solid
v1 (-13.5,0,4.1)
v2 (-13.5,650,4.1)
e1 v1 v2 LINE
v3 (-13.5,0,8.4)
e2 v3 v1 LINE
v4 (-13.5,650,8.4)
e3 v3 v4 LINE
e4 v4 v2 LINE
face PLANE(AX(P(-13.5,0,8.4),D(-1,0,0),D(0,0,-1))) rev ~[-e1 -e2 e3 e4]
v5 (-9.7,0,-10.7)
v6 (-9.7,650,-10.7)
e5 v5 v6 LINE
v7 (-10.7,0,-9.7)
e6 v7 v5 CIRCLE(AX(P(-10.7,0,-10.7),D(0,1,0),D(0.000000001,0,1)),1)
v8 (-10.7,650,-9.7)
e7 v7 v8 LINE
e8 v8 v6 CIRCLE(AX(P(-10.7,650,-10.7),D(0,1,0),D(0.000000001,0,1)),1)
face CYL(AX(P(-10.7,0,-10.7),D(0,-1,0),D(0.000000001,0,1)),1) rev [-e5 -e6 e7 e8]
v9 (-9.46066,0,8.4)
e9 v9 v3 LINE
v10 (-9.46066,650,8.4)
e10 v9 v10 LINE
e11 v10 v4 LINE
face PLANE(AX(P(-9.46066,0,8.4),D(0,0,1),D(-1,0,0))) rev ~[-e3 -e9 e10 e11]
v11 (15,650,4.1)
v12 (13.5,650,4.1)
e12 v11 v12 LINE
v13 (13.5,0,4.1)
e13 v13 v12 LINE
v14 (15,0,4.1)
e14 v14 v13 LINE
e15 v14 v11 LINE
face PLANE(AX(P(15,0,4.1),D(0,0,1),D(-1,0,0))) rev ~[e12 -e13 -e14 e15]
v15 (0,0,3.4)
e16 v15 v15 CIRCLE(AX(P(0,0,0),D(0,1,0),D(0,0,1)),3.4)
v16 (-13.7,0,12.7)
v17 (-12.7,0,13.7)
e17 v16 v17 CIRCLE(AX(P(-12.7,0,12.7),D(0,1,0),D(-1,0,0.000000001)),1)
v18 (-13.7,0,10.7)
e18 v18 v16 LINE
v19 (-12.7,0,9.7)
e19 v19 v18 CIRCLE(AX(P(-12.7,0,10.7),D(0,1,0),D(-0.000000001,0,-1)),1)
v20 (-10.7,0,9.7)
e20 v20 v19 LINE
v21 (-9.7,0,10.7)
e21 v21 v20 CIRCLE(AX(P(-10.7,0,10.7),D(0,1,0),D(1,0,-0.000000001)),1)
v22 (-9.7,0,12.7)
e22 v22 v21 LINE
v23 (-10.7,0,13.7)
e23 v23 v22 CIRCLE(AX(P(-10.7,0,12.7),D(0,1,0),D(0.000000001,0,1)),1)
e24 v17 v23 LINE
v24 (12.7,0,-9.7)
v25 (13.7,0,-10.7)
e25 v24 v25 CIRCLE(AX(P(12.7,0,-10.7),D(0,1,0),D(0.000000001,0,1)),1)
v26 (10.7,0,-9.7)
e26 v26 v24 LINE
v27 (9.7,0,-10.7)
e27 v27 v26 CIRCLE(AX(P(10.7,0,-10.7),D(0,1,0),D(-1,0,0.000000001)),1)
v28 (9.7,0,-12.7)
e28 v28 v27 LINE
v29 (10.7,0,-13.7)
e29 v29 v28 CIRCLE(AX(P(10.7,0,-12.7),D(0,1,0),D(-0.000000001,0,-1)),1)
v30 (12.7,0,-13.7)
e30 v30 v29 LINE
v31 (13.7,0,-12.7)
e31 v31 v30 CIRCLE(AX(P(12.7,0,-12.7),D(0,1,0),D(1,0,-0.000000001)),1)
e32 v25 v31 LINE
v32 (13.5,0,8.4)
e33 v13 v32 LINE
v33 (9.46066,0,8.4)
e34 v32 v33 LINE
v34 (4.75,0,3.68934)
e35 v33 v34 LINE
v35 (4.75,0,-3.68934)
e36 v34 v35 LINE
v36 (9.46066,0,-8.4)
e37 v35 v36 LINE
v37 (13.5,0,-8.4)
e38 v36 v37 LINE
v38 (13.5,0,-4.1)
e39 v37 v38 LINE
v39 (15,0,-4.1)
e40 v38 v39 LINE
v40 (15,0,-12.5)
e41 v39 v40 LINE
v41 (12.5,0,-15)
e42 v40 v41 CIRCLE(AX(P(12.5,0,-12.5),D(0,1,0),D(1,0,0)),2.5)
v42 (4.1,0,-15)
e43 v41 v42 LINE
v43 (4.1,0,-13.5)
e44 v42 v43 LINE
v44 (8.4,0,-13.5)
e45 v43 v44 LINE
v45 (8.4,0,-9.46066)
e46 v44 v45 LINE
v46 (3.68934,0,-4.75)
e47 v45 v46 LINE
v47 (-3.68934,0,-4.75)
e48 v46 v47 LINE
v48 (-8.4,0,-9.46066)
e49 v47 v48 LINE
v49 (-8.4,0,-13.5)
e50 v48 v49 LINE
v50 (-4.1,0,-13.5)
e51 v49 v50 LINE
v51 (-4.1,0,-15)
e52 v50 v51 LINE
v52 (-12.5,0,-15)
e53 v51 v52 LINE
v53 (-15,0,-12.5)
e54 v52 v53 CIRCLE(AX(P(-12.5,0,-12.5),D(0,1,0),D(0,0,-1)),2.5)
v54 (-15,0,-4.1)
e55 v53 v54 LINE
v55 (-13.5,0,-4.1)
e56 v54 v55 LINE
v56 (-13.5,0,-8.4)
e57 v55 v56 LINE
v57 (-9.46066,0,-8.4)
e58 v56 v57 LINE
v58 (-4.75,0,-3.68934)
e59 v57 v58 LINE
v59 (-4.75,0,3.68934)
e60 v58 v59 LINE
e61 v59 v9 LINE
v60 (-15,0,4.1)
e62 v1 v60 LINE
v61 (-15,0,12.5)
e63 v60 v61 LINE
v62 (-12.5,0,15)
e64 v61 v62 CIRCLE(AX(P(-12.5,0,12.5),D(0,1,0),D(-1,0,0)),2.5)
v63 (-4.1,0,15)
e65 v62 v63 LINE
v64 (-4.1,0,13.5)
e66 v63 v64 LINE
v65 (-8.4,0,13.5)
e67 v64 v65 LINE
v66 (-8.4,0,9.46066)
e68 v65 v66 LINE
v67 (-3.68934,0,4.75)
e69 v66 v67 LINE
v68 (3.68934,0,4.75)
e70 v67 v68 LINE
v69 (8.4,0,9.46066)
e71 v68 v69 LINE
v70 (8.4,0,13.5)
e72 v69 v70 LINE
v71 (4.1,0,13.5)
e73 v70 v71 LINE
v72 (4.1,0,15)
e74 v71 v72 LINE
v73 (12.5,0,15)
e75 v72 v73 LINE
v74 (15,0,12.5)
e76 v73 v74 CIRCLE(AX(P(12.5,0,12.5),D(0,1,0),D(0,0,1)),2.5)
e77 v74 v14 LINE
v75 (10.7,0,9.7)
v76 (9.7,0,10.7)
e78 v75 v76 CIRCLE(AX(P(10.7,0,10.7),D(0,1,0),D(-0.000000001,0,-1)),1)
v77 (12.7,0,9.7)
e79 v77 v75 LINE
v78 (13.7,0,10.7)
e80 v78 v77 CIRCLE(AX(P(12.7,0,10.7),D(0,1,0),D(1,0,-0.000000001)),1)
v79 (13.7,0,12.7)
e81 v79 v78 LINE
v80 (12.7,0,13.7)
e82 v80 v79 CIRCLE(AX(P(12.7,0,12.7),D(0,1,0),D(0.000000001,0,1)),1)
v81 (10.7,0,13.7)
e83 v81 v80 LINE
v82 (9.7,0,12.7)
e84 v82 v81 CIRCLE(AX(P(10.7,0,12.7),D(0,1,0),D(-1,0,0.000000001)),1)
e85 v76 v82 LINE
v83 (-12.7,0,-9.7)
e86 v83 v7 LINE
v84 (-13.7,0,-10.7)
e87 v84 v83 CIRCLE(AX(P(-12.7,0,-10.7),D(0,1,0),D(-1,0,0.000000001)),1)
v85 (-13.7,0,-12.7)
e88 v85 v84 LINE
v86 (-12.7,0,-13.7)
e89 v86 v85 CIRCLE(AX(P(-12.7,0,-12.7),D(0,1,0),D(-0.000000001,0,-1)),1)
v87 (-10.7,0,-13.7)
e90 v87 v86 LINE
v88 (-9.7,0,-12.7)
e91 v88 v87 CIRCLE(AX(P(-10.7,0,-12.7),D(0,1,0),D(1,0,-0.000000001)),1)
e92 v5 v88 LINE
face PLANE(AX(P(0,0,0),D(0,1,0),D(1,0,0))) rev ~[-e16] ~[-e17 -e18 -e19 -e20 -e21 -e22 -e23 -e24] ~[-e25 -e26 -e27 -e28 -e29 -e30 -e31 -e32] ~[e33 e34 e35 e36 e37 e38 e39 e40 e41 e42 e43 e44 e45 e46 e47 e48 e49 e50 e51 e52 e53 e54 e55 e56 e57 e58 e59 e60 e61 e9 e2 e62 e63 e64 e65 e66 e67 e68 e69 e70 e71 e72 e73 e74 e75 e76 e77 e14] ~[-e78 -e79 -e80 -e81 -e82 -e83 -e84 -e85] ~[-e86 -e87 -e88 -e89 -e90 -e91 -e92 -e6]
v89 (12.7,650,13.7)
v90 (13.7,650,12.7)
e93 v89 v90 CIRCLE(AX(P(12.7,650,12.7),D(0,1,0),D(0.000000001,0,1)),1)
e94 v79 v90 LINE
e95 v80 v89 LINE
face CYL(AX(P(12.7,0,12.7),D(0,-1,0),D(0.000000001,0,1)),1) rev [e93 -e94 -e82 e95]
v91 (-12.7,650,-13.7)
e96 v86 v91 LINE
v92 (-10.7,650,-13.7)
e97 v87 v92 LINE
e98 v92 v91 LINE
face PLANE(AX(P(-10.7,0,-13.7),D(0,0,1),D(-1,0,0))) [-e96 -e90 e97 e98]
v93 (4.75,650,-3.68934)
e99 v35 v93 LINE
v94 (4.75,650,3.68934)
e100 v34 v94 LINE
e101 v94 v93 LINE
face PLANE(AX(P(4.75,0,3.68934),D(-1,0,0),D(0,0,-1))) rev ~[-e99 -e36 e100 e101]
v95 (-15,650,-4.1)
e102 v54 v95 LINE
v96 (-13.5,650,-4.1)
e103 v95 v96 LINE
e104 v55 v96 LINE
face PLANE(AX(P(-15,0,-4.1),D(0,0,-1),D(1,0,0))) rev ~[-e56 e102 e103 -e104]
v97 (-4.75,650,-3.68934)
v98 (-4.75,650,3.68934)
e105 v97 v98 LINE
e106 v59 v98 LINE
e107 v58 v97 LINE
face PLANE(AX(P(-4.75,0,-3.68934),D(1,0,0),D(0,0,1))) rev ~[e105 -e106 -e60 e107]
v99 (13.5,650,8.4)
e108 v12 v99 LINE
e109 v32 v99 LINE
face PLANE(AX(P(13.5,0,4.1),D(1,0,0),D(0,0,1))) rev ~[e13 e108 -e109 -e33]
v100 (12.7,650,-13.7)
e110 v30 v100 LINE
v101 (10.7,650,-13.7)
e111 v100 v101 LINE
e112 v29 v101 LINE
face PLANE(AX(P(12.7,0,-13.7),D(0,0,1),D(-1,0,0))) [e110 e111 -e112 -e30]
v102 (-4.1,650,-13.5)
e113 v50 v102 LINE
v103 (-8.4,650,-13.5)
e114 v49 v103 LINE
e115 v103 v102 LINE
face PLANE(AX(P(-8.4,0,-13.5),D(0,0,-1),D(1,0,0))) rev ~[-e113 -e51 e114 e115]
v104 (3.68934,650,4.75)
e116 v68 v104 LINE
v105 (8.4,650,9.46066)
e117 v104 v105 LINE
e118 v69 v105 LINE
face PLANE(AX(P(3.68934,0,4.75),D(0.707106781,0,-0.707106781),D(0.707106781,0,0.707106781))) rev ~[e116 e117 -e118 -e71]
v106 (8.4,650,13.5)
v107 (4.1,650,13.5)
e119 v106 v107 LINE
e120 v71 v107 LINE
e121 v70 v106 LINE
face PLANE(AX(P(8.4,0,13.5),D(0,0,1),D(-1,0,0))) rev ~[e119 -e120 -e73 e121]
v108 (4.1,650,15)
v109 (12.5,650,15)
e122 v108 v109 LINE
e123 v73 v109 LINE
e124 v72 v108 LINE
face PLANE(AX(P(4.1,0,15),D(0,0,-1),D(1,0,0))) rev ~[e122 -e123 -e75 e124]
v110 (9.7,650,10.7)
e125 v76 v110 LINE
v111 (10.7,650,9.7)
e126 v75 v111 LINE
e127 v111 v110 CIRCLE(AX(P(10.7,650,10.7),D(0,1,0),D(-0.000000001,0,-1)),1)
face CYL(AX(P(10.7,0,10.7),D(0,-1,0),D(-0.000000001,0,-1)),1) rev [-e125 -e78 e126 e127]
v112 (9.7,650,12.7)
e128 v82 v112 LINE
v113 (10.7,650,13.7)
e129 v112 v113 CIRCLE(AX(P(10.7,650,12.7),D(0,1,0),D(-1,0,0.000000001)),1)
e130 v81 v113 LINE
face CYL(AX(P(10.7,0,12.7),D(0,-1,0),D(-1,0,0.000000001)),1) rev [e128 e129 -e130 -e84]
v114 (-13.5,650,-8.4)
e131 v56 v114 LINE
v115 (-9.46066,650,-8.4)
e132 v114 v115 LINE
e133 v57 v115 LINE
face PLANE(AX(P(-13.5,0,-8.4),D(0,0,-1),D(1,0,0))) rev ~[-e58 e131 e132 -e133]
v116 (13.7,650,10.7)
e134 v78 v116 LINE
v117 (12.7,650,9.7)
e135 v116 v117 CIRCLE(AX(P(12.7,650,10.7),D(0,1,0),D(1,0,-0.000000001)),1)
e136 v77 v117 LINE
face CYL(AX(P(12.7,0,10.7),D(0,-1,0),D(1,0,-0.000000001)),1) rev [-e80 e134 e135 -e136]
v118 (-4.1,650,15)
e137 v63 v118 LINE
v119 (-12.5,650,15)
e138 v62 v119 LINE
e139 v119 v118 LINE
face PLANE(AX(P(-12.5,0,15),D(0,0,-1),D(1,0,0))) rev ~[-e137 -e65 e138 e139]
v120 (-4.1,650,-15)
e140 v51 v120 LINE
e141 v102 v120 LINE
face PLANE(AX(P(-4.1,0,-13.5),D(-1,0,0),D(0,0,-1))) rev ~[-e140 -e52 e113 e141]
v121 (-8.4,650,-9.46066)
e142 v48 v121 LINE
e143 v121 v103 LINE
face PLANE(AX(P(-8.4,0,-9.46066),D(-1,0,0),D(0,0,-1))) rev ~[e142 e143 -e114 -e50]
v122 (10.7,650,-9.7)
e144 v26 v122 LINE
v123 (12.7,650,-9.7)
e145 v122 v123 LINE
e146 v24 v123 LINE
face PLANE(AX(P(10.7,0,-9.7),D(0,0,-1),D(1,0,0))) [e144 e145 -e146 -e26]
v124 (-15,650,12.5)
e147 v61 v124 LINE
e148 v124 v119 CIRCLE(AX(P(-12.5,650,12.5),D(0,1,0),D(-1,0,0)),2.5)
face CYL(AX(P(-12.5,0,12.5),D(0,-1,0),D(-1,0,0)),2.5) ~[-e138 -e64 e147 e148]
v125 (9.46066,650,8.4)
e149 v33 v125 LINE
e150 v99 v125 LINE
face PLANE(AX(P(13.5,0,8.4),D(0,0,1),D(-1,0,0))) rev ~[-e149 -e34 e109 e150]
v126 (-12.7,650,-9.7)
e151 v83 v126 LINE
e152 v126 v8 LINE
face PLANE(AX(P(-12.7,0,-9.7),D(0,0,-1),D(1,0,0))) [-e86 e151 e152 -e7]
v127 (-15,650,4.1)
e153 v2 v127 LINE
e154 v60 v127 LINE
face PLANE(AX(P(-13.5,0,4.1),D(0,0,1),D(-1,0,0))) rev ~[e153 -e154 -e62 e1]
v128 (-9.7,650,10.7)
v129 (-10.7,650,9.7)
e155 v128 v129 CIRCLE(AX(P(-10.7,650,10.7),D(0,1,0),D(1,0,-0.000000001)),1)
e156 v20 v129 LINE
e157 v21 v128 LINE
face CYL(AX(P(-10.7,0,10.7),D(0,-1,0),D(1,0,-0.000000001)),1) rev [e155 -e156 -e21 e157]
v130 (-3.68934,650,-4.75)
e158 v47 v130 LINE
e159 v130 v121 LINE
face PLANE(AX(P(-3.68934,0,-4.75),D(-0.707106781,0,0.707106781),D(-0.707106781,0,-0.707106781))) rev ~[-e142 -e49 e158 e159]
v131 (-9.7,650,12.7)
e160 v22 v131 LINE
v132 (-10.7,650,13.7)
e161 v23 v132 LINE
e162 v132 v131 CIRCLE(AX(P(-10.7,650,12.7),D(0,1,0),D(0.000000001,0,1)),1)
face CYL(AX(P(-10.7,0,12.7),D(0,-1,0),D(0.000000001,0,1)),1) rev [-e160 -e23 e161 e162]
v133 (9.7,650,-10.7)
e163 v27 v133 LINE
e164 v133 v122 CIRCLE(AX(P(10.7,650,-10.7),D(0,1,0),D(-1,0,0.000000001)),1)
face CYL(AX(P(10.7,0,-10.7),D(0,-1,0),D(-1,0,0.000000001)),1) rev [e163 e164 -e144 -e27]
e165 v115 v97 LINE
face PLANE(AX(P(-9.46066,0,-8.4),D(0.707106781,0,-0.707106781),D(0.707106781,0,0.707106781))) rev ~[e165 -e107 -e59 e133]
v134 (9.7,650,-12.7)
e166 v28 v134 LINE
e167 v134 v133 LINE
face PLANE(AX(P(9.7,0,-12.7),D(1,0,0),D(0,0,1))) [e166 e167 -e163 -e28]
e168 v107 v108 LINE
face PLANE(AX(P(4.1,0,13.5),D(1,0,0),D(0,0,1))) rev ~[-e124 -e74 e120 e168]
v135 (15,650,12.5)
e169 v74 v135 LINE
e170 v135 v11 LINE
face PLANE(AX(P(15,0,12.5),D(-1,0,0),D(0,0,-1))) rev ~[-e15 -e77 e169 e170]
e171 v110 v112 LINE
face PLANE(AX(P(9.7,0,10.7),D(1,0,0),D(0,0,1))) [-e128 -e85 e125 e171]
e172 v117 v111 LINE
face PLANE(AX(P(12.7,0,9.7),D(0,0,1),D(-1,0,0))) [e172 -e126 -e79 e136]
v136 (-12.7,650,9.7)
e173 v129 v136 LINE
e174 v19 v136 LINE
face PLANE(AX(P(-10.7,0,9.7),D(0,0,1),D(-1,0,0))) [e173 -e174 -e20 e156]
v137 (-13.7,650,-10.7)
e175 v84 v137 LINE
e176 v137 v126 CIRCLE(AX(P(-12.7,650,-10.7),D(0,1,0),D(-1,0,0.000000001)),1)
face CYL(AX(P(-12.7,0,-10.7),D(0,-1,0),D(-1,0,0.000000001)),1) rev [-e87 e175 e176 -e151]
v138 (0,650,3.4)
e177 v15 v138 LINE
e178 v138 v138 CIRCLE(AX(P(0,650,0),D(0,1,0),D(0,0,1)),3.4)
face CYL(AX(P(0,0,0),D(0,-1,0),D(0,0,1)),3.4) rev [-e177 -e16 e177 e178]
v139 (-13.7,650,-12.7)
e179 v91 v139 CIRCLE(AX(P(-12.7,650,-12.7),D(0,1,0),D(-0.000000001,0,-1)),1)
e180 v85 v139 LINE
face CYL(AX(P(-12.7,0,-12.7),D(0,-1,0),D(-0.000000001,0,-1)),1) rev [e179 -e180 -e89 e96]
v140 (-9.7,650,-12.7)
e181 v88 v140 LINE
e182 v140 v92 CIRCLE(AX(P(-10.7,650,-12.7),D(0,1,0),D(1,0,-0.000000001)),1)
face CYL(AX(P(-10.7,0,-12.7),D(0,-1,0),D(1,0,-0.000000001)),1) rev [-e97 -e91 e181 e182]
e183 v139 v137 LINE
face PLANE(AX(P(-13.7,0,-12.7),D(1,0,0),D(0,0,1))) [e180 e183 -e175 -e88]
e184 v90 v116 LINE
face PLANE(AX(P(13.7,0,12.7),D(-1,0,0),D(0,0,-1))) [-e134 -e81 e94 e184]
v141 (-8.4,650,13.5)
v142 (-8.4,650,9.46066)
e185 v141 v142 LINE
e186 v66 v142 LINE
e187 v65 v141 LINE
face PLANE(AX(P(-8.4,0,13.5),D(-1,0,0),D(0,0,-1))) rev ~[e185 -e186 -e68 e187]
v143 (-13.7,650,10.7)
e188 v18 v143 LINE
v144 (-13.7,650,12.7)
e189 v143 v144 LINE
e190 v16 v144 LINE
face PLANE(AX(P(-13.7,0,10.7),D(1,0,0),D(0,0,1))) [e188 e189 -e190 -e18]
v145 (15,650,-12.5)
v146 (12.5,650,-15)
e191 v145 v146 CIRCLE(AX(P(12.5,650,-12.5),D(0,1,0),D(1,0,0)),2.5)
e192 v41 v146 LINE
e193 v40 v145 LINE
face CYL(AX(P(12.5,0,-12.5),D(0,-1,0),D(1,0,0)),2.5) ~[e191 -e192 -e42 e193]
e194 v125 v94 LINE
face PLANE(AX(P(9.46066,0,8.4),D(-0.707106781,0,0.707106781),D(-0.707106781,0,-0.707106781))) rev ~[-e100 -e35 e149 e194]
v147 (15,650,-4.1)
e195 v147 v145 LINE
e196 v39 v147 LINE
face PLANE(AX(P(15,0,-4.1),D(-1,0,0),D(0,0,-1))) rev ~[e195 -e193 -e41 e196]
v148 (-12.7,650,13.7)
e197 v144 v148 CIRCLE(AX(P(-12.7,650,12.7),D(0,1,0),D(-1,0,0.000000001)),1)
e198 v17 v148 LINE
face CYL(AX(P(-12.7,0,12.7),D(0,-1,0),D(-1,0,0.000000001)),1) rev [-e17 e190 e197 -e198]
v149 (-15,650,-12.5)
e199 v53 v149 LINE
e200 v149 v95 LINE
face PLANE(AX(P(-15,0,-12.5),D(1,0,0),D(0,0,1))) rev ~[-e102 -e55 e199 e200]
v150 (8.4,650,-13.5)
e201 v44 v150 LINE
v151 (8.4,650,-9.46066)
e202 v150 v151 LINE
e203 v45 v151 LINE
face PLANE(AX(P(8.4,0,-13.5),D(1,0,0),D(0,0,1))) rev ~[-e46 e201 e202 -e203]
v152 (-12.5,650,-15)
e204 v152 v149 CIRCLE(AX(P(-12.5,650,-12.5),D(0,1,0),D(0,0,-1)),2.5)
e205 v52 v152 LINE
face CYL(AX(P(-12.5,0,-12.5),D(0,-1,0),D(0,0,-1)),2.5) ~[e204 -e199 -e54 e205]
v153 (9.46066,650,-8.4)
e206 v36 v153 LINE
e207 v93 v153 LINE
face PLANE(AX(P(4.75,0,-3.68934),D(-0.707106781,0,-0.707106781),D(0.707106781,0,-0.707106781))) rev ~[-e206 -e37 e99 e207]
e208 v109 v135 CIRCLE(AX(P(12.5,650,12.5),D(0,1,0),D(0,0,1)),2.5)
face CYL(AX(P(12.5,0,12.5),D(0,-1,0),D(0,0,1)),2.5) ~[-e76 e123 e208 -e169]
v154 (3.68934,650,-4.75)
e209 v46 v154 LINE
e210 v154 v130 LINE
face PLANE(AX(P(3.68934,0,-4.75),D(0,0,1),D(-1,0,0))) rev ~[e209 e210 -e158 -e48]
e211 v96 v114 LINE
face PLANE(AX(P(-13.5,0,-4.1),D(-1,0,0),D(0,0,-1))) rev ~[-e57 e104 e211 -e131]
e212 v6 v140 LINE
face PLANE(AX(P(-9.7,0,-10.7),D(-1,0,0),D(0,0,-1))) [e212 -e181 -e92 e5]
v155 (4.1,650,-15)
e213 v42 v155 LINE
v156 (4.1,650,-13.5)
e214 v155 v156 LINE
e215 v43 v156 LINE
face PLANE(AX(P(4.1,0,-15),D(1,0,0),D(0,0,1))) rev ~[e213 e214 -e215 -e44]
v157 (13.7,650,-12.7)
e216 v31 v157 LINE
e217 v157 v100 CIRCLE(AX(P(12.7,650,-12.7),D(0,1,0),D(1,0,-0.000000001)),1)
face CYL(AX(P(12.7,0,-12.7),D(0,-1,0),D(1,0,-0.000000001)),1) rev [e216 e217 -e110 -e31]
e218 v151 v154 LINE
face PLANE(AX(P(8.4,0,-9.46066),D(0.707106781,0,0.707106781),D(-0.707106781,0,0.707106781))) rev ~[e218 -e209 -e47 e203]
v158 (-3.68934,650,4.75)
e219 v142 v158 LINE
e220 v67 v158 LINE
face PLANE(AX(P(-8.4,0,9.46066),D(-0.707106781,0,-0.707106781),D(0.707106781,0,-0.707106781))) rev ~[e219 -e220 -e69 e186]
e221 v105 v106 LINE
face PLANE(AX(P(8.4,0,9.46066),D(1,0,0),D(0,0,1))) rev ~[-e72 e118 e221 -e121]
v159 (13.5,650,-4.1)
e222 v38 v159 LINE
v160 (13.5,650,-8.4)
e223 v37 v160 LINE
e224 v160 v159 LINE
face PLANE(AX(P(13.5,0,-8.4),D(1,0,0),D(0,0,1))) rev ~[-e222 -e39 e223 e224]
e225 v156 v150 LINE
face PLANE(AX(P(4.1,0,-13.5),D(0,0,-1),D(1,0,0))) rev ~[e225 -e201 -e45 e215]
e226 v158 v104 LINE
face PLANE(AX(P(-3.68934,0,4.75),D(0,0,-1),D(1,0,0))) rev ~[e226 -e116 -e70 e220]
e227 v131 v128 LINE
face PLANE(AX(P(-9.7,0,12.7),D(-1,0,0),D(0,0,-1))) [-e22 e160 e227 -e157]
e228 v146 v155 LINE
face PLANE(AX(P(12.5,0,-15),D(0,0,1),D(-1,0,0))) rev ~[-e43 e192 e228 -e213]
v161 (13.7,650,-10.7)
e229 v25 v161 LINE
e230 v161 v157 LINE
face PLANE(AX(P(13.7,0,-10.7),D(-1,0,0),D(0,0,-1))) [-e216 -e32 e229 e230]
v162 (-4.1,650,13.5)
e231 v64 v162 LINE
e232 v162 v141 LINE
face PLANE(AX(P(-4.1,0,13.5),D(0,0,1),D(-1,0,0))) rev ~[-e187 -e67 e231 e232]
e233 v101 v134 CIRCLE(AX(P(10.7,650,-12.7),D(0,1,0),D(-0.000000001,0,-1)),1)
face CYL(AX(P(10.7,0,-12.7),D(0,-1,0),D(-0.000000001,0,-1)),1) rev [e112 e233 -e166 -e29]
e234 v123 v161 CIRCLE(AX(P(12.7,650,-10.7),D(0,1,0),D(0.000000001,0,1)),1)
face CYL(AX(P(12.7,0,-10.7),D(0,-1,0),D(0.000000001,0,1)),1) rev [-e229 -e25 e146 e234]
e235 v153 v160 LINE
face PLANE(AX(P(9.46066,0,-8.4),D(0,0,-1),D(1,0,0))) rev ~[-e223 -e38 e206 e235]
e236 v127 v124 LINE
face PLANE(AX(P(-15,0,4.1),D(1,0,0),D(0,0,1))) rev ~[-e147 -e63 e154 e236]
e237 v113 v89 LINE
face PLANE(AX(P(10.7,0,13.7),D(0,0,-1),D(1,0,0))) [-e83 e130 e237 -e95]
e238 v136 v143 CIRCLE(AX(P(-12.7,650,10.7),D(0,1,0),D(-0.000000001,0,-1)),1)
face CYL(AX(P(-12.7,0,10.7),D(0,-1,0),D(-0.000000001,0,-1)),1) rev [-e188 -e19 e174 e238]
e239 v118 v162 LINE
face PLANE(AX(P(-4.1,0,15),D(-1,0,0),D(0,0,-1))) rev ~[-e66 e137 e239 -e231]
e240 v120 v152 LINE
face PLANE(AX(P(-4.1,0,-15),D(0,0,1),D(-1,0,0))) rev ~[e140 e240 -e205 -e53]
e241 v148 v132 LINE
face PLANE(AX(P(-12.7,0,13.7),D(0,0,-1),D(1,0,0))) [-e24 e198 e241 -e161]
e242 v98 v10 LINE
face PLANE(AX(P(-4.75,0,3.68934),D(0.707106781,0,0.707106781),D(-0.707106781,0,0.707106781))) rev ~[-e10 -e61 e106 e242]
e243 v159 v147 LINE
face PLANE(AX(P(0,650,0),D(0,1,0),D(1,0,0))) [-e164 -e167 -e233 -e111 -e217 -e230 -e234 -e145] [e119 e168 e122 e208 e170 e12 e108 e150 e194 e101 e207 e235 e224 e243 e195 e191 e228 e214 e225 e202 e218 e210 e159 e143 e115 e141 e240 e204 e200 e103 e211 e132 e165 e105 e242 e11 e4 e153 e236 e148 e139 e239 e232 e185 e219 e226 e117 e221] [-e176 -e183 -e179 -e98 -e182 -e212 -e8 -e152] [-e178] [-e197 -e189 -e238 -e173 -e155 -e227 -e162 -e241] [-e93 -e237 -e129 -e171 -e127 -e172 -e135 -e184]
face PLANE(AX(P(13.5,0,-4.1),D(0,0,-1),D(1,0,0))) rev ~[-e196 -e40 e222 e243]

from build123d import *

# Parameters (mm, degrees)
SKETCH_1_R      = 3.4
EXTRUDE_1_DEPTH = 650


with BuildPart() as part:
    # 草图1 → 凸台-拉伸1 (new body)
    with BuildSketch(Plane(origin=(0, 0, 0), x_dir=(1, 0, 0), z_dir=(0, 1, 0))):
        with BuildLine():
            Line((-4.1, 15), (-12.5, 15))
            ThreePointArc((-12.5, 15), (-14.267766953, 14.267766953), (-15, 12.5))
            Line((-15, 12.5), (-15, 4.1))
            Line((-15, 4.1), (-13.5, 4.1))
            Line((-13.5, 4.1), (-13.5, 8.4))
            Line((-13.5, 8.4), (-9.460660172, 8.4))
            Line((-9.460660172, 8.4), (-4.75, 3.689339828))
            Line((-4.75, 3.689339828), (-4.75, -3.689339828))
            Line((-4.75, -3.689339828), (-9.460660172, -8.4))
            Line((-9.460660172, -8.4), (-13.5, -8.4))
            Line((-13.5, -8.4), (-13.5, -4.1))
            Line((-13.5, -4.1), (-15, -4.1))
            Line((-15, -4.1), (-15, -12.5))
            ThreePointArc((-15, -12.5), (-14.267766953, -14.267766953), (-12.5, -15))
            Line((-12.5, -15), (-4.1, -15))
            Line((-4.1, -15), (-4.1, -13.5))
            Line((-4.1, -13.5), (-8.4, -13.5))
            Line((-8.4, -13.5), (-8.4, -9.460660172))
            Line((-8.4, -9.460660172), (-3.689339828, -4.75))
            Line((-3.689339828, -4.75), (3.689339828, -4.75))
            Line((3.689339828, -4.75), (8.4, -9.460660172))
            Line((8.4, -9.460660172), (8.4, -13.5))
            Line((8.4, -13.5), (4.1, -13.5))
            Line((4.1, -13.5), (4.1, -15))
            Line((4.1, -15), (12.5, -15))
            ThreePointArc((12.5, -15), (14.267766953, -14.267766953), (15, -12.5))
            Line((15, -12.5), (15, -4.1))
            Line((15, -4.1), (13.5, -4.1))
            Line((13.5, -4.1), (13.5, -8.4))
            Line((13.5, -8.4), (9.460660172, -8.4))
            Line((9.460660172, -8.4), (4.75, -3.689339828))
            Line((4.75, -3.689339828), (4.75, 3.689339828))
            Line((4.75, 3.689339828), (9.460660172, 8.4))
            Line((9.460660172, 8.4), (13.5, 8.4))
            Line((13.5, 8.4), (13.5, 4.1))
            Line((13.5, 4.1), (15, 4.1))
            Line((15, 4.1), (15, 12.5))
            ThreePointArc((15, 12.5), (14.267766953, 14.267766953), (12.5, 15))
            Line((12.5, 15), (4.1, 15))
            Line((4.1, 15), (4.1, 13.5))
            Line((4.1, 13.5), (8.4, 13.5))
            Line((8.4, 13.5), (8.4, 9.460660172))
            Line((8.4, 9.460660172), (3.689339828, 4.75))
            Line((3.689339828, 4.75), (-3.689339828, 4.75))
            Line((-3.689339828, 4.75), (-8.4, 9.460660172))
            Line((-8.4, 9.460660172), (-8.4, 13.5))
            Line((-8.4, 13.5), (-4.1, 13.5))
            Line((-4.1, 13.5), (-4.1, 15))
        make_face()
        with Locations(Location((0, 0, 0), (0, 0, 270))):
            Circle(SKETCH_1_R, mode=Mode.SUBTRACT)
        with BuildLine():
            Line((-10.7, 13.7), (-12.7, 13.7))
            ThreePointArc((-12.7, 13.7), (-13.407106781, 13.407106781), (-13.7, 12.7))
            Line((-13.7, 12.7), (-13.7, 10.7))
            ThreePointArc((-13.7, 10.7), (-13.407106781, 9.992893219), (-12.7, 9.7))
            Line((-12.7, 9.7), (-10.7, 9.7))
            ThreePointArc((-10.7, 9.7), (-9.992893219, 9.992893219), (-9.7, 10.7))
            Line((-9.7, 10.7), (-9.7, 12.7))
            ThreePointArc((-9.7, 12.7), (-9.992893219, 13.407106781), (-10.7, 13.7))
        make_face(mode=Mode.SUBTRACT)
        with BuildLine():
            Line((13.7, 10.7), (13.7, 12.7))
            ThreePointArc((13.7, 12.7), (13.407106781, 13.407106781), (12.7, 13.7))
            Line((12.7, 13.7), (10.7, 13.7))
            ThreePointArc((10.7, 13.7), (9.992893219, 13.407106781), (9.7, 12.7))
            Line((9.7, 12.7), (9.7, 10.7))
            ThreePointArc((9.7, 10.7), (9.992893219, 9.992893219), (10.7, 9.7))
            Line((10.7, 9.7), (12.7, 9.7))
            ThreePointArc((12.7, 9.7), (13.407106781, 9.992893219), (13.7, 10.7))
        make_face(mode=Mode.SUBTRACT)
        with BuildLine():
            Line((10.7, -13.7), (12.7, -13.7))
            ThreePointArc((12.7, -13.7), (13.407106781, -13.407106781), (13.7, -12.7))
            Line((13.7, -12.7), (13.7, -10.7))
            ThreePointArc((13.7, -10.7), (13.407106781, -9.992893219), (12.7, -9.7))
            Line((12.7, -9.7), (10.7, -9.7))
            ThreePointArc((10.7, -9.7), (9.992893219, -9.992893219), (9.7, -10.7))
            Line((9.7, -10.7), (9.7, -12.7))
            ThreePointArc((9.7, -12.7), (9.992893219, -13.407106781), (10.7, -13.7))
        make_face(mode=Mode.SUBTRACT)
        with BuildLine():
            Line((-13.7, -10.7), (-13.7, -12.7))
            ThreePointArc((-13.7, -12.7), (-13.407106781, -13.407106781), (-12.7, -13.7))
            Line((-12.7, -13.7), (-10.7, -13.7))
            ThreePointArc((-10.7, -13.7), (-9.992893219, -13.407106781), (-9.7, -12.7))
            Line((-9.7, -12.7), (-9.7, -10.7))
            ThreePointArc((-9.7, -10.7), (-9.992893219, -9.992893219), (-10.7, -9.7))
            Line((-10.7, -9.7), (-12.7, -9.7))
            ThreePointArc((-12.7, -9.7), (-13.407106781, -9.992893219), (-13.7, -10.7))
        make_face(mode=Mode.SUBTRACT)
    extrude(amount=EXTRUDE_1_DEPTH)


solid = part.part
